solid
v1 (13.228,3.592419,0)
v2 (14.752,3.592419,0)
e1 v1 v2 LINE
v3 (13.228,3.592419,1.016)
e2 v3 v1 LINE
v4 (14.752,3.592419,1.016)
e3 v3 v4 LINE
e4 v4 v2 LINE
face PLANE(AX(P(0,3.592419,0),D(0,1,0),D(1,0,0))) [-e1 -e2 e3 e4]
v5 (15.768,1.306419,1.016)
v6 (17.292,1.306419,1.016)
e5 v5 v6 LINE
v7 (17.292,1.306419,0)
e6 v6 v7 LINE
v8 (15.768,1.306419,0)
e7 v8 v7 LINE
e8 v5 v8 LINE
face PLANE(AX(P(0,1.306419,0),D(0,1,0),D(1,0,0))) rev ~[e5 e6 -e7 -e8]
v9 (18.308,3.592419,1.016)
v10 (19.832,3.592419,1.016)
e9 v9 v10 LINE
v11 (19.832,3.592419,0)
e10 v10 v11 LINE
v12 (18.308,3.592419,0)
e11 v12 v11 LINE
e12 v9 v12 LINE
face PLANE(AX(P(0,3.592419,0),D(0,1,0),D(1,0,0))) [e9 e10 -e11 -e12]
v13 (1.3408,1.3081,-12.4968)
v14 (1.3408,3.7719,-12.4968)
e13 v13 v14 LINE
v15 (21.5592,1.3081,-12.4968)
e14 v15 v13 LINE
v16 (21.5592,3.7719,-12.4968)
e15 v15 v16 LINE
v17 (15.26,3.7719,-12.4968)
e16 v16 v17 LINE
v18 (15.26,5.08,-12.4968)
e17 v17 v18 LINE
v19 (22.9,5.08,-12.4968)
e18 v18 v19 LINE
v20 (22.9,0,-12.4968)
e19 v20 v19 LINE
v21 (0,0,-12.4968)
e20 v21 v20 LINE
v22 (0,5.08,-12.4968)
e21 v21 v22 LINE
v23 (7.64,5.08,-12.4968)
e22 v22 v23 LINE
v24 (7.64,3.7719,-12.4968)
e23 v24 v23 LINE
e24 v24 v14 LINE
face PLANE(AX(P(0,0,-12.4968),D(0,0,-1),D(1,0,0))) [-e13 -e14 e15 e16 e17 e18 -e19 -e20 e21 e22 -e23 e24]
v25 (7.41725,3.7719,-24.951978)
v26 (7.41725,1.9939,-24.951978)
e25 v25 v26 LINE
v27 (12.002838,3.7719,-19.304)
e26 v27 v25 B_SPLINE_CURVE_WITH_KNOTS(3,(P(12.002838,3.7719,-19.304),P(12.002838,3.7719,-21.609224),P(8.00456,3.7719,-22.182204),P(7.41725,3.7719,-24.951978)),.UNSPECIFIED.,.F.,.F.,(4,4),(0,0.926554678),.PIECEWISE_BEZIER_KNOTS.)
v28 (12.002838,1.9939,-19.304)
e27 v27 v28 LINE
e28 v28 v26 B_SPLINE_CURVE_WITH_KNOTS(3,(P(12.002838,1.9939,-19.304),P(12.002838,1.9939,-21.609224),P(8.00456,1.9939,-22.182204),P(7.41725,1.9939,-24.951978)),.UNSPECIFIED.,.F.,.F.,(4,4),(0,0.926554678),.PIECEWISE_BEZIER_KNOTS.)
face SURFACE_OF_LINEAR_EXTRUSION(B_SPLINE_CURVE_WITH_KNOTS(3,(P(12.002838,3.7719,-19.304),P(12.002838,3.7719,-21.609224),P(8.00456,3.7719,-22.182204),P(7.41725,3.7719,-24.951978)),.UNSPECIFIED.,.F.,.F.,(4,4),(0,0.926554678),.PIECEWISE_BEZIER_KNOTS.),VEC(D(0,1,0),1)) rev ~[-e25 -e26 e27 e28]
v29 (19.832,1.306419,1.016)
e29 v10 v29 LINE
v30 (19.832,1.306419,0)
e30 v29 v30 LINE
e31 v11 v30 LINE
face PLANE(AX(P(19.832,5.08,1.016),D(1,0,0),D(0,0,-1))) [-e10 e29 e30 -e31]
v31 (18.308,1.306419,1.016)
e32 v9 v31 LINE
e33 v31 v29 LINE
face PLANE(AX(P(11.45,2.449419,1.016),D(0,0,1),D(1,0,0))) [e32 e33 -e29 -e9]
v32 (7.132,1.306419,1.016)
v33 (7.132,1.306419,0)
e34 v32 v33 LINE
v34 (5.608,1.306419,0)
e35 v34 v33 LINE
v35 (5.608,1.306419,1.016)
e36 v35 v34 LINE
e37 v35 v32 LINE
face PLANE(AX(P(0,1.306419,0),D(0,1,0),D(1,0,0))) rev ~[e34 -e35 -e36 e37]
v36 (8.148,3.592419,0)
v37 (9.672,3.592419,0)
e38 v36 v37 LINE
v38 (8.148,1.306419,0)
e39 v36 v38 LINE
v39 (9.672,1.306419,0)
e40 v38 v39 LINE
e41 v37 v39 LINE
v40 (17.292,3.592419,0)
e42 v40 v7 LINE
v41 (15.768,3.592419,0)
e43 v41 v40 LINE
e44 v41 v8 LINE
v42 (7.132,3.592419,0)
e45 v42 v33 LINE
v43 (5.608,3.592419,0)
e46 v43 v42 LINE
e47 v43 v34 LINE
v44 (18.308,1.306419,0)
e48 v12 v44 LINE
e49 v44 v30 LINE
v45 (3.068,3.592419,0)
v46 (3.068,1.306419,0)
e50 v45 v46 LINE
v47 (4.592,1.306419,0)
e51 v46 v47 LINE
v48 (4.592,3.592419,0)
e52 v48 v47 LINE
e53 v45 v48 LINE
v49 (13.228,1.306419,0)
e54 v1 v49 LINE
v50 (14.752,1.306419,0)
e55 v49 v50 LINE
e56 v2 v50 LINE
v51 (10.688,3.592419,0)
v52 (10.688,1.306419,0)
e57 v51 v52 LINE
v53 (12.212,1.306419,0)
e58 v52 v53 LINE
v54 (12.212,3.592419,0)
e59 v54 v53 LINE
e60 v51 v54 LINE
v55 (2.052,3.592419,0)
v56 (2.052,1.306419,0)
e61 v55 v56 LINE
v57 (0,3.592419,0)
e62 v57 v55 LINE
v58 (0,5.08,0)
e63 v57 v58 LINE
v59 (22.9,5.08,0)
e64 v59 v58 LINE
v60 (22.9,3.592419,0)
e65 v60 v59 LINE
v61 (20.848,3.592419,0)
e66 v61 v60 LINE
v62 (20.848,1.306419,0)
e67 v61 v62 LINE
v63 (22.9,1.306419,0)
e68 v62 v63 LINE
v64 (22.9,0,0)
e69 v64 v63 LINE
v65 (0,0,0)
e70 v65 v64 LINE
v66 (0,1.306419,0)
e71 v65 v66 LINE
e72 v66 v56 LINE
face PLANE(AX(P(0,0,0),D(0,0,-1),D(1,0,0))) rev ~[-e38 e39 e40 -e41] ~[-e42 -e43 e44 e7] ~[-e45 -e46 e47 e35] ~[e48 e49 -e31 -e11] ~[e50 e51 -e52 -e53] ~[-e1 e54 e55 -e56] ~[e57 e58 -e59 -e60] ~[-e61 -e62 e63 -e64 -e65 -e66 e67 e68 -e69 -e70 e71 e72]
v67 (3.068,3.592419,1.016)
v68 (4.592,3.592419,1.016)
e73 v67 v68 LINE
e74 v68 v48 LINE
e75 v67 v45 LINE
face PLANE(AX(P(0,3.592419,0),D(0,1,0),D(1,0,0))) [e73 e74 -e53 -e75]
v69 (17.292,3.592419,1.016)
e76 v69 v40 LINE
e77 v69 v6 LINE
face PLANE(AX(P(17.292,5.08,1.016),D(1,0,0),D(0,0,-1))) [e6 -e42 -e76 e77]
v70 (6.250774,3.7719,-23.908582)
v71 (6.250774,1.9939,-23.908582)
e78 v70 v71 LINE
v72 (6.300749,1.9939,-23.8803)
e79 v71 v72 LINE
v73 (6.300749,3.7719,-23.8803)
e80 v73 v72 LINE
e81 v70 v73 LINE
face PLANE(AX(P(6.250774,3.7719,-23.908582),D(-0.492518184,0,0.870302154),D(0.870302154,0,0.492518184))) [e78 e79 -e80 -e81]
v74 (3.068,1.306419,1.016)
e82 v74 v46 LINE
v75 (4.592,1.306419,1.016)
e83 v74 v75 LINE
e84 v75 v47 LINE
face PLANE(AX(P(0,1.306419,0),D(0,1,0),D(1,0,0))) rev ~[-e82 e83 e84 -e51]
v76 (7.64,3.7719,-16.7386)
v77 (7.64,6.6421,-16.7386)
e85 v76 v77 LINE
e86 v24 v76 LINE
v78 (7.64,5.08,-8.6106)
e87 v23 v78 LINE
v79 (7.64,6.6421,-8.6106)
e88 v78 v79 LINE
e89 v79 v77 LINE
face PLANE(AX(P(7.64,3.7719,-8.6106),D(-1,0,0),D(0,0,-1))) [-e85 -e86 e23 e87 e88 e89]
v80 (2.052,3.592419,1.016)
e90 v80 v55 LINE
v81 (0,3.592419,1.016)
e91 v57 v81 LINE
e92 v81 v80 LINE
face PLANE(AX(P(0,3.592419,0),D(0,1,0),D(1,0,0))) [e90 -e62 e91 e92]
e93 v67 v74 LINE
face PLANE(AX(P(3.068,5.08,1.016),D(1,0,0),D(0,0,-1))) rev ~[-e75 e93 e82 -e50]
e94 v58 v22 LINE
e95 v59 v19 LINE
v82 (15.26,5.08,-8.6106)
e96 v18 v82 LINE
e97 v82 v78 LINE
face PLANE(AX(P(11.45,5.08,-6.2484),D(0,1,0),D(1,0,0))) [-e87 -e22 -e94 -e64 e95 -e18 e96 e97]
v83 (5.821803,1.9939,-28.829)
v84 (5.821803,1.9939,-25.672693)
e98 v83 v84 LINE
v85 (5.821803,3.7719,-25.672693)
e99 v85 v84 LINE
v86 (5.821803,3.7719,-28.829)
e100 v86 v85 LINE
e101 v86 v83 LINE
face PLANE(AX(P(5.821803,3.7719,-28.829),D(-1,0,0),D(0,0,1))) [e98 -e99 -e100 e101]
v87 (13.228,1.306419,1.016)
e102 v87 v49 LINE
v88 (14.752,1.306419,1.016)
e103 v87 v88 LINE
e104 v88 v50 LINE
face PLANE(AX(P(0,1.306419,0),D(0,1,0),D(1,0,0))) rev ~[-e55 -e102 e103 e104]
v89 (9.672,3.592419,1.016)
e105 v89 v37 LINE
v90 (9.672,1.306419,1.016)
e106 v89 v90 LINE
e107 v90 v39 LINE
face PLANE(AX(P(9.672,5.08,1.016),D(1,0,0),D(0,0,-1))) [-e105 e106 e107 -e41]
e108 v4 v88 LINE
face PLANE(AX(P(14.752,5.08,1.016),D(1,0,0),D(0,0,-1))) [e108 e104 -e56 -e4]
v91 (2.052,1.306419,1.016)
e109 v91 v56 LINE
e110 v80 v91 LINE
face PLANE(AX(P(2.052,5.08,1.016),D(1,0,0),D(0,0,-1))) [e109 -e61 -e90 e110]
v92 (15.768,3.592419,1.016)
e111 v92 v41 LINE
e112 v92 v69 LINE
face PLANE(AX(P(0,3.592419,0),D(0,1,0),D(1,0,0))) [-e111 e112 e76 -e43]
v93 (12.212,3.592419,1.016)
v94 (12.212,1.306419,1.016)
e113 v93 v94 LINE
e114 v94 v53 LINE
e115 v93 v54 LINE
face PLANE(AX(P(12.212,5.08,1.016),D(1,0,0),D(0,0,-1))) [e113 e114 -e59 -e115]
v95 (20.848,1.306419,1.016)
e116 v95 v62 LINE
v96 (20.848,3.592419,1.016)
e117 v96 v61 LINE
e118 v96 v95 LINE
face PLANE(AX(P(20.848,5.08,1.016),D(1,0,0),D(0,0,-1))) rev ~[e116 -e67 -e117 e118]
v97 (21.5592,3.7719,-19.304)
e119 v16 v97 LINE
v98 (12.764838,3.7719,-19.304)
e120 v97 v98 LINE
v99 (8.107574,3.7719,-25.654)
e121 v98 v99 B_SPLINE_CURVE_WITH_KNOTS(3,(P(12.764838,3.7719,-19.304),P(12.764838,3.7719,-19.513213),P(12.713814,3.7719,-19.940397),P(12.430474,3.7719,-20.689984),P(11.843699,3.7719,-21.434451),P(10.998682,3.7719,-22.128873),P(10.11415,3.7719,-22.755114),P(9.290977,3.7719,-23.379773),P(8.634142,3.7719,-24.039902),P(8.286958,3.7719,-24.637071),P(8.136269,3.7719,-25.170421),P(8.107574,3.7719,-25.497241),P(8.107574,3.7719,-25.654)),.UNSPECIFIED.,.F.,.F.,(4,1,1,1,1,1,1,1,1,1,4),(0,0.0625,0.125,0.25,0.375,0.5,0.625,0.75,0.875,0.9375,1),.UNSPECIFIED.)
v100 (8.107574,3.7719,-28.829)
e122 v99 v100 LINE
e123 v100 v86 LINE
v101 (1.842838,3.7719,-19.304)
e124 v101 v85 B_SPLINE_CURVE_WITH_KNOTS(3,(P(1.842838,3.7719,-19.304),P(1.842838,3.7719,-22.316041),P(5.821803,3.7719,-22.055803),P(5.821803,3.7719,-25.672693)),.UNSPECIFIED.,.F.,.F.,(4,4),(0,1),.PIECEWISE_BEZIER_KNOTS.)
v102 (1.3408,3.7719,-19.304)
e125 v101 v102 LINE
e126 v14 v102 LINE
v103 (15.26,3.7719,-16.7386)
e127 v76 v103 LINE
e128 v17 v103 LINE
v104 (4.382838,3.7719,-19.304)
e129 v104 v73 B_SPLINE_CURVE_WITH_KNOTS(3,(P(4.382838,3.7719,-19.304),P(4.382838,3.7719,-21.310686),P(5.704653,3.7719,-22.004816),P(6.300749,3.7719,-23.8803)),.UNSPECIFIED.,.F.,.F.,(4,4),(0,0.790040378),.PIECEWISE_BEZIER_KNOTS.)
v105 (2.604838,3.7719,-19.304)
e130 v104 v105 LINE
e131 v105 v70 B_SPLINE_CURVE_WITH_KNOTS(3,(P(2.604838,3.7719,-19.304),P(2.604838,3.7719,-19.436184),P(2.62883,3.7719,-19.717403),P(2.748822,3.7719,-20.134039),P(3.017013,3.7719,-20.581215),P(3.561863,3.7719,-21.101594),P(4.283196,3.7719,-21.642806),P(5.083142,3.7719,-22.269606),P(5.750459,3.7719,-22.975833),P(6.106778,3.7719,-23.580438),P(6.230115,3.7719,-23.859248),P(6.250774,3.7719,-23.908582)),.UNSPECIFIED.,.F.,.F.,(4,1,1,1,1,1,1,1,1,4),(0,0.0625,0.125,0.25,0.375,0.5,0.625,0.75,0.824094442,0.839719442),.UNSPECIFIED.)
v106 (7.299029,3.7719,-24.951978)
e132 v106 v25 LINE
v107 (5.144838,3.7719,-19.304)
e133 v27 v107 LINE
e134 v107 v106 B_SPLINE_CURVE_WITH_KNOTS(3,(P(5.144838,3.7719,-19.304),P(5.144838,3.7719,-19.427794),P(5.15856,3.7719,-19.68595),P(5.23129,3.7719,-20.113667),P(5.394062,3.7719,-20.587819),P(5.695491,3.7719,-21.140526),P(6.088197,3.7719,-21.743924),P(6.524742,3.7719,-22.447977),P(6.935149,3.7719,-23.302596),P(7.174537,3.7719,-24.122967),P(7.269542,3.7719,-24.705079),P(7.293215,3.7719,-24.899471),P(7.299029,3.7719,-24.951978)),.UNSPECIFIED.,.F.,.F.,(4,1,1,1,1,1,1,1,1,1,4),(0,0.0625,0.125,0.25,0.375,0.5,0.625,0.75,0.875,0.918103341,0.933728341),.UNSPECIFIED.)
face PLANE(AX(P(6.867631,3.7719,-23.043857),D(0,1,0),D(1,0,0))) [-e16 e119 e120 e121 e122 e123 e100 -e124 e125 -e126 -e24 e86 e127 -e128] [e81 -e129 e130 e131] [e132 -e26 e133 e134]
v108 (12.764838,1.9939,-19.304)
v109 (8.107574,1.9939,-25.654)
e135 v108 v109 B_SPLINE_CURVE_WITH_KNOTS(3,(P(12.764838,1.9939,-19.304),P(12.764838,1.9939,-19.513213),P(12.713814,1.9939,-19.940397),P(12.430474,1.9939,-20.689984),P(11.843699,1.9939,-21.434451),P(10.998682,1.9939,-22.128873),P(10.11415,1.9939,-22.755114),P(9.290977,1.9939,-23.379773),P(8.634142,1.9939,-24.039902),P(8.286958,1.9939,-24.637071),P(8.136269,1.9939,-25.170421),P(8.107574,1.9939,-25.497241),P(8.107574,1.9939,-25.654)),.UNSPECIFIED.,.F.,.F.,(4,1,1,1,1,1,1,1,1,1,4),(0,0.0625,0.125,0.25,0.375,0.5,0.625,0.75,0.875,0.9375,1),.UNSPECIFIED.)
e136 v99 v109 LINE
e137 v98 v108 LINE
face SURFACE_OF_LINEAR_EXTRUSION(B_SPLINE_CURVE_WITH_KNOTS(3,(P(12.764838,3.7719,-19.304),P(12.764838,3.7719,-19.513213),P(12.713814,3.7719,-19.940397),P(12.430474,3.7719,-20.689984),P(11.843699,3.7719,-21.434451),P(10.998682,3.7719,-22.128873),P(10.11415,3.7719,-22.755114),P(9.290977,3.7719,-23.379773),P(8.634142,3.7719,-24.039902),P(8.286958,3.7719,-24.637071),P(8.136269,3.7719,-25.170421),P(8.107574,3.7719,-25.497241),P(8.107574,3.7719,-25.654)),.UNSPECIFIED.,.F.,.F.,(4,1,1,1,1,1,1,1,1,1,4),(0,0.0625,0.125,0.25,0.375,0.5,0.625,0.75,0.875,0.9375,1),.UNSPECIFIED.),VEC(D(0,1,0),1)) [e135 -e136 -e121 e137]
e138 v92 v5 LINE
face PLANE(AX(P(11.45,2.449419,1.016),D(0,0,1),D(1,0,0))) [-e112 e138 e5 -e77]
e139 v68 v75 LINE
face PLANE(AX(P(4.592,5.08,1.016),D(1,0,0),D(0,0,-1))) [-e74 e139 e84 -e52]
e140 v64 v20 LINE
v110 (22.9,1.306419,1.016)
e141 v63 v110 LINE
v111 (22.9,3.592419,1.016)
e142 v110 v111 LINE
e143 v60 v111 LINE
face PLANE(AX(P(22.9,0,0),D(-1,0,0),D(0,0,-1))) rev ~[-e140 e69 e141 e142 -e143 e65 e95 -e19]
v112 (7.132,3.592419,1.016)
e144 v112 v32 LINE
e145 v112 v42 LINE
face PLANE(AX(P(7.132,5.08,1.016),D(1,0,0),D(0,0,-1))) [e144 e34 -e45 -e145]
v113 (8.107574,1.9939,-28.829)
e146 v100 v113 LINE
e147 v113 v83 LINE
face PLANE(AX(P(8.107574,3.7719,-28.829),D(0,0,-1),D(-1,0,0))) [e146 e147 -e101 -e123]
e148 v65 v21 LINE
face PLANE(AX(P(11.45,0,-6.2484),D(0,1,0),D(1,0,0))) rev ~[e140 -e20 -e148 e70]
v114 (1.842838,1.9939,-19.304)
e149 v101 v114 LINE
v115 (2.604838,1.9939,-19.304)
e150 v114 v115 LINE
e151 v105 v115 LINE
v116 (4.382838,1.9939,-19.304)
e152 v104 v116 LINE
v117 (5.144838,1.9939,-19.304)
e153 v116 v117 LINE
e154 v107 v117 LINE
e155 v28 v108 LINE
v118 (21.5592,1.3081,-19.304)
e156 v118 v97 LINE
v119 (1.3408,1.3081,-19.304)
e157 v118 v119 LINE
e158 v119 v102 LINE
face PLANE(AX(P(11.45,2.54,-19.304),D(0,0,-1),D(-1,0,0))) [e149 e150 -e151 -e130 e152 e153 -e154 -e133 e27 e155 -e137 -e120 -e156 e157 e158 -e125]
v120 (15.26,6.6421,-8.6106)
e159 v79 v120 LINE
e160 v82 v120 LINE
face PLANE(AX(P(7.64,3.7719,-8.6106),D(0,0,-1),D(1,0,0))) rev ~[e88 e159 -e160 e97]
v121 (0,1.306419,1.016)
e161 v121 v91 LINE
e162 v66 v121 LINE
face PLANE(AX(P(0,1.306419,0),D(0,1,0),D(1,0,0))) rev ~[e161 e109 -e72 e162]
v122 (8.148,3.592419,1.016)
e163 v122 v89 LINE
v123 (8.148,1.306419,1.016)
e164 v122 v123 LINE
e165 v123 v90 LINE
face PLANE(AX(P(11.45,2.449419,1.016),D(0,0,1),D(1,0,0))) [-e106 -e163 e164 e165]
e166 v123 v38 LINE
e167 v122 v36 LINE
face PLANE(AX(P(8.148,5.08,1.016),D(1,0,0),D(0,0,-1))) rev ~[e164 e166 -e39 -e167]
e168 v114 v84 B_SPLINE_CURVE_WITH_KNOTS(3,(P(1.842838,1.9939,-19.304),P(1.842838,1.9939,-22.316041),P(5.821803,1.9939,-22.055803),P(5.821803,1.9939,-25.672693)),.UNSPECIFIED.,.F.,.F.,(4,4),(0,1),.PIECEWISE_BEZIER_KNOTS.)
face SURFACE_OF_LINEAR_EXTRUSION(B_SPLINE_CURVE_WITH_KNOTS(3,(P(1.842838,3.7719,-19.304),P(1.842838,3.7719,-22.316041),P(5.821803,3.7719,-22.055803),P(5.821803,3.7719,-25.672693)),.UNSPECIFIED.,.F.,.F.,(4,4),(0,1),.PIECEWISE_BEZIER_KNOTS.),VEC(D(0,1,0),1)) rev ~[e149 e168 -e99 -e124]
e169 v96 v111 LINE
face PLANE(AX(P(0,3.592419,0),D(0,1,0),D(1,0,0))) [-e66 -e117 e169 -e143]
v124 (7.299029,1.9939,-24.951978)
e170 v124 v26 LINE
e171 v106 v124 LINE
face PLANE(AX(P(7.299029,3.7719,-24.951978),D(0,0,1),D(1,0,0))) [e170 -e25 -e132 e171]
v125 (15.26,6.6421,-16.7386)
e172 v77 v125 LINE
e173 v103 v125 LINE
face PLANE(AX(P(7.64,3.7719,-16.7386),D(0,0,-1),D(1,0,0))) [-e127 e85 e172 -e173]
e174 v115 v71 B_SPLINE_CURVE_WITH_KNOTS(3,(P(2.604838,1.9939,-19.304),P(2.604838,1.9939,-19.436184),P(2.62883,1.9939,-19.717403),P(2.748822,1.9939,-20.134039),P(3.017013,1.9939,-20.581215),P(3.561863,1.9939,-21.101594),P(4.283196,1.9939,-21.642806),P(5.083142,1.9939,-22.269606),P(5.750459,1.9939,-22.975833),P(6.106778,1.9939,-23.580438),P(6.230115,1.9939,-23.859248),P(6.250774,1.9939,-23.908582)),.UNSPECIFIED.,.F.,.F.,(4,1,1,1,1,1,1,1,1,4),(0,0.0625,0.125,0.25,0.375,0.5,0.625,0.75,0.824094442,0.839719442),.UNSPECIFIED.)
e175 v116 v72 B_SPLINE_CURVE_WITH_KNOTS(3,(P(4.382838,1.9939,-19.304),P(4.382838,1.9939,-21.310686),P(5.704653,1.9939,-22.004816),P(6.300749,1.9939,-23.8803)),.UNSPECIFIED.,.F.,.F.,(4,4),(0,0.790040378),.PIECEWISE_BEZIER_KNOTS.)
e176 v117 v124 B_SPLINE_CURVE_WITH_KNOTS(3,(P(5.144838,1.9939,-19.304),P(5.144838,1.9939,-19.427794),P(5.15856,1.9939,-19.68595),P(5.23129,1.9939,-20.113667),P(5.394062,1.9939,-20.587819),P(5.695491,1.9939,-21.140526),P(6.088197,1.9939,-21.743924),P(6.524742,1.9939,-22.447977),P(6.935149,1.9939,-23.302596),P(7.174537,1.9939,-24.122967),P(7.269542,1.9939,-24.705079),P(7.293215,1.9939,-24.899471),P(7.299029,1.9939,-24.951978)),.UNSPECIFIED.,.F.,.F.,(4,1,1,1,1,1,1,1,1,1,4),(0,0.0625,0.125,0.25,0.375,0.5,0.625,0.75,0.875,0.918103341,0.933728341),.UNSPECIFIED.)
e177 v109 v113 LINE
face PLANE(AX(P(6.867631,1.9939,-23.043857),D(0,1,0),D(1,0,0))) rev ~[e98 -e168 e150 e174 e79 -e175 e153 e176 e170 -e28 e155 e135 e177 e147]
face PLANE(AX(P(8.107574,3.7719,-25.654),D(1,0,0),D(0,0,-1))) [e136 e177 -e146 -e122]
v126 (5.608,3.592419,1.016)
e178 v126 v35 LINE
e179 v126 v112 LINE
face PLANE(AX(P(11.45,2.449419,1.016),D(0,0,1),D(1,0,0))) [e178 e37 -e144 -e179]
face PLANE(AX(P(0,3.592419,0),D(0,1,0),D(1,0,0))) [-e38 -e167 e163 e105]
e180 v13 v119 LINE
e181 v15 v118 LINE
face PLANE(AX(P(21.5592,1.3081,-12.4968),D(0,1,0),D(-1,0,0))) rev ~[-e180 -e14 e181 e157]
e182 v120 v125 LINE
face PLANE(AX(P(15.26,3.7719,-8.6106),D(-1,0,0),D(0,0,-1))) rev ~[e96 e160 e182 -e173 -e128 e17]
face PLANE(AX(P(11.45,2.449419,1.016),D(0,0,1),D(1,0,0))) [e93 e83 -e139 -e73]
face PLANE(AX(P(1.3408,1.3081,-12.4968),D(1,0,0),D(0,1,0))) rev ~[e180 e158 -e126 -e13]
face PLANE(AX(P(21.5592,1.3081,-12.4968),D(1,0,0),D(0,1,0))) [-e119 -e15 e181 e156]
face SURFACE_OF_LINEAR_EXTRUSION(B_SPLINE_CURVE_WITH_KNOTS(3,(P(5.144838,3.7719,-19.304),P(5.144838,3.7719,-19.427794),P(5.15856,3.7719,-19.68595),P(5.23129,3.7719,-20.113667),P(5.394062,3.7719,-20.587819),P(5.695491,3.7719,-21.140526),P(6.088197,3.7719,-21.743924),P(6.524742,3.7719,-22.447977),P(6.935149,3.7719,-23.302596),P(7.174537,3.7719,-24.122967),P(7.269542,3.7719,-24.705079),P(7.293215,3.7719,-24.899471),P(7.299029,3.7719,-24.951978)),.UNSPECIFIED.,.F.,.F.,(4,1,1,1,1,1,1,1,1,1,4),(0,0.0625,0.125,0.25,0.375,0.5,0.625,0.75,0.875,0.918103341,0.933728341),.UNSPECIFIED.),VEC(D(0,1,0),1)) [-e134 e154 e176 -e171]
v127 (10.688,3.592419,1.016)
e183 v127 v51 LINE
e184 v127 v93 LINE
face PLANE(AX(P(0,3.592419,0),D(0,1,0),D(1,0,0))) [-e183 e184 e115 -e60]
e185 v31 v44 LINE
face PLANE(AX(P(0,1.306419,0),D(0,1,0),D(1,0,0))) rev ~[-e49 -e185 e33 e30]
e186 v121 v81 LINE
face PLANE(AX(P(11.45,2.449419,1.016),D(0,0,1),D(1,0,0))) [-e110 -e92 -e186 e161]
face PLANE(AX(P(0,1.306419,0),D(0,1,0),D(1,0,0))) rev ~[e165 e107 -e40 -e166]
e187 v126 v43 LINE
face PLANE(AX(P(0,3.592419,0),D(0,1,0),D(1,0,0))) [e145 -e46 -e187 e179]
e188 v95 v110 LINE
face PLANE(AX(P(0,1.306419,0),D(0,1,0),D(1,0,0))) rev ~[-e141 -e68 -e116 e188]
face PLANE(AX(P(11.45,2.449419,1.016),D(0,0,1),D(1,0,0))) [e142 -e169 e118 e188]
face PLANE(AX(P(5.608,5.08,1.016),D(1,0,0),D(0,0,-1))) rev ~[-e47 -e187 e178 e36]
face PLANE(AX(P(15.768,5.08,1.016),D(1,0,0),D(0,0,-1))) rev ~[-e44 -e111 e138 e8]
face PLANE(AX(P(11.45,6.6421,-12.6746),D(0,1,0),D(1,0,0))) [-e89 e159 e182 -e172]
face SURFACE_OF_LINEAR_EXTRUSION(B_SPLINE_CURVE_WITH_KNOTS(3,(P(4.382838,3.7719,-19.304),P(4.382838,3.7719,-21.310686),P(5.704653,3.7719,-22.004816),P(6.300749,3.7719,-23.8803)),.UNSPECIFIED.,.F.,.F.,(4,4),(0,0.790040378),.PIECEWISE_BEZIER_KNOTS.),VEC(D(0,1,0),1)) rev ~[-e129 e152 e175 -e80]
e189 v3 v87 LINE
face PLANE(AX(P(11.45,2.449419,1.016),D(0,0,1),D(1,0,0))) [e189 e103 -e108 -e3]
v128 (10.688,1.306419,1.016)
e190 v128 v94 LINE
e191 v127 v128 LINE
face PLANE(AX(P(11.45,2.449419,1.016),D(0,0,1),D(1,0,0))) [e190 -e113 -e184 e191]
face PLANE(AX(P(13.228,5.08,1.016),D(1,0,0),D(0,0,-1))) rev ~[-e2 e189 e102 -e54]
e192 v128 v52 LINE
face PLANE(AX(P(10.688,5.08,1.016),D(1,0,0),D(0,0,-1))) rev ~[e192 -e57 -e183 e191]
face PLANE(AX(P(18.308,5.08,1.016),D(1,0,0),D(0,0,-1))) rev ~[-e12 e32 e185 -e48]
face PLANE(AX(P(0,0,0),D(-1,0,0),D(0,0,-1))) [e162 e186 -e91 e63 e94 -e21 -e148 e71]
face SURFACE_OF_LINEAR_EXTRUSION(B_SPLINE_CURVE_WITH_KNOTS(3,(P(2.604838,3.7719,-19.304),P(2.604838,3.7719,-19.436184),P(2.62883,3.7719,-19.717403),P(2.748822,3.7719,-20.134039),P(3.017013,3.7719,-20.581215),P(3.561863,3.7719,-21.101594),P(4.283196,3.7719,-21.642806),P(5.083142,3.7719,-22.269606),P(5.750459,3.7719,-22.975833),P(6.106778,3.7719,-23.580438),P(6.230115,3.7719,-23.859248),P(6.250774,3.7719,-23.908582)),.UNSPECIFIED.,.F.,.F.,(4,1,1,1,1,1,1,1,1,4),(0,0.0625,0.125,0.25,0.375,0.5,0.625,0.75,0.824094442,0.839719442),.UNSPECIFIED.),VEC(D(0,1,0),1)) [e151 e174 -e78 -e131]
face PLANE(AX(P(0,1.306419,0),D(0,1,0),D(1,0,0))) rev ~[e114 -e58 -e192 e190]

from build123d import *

# Parameters (mm, degrees)
SKETCH1_W           = 22.9
SKETCH1_H           = 12.4968
BOSS_EXTRUDE1_DEPTH = 5.08
SKETCH2_W           = 22.9
SKETCH2_H           = 2.286
BOSS_EXTRUDE2_DEPTH = 1.016
SKETCH3_W           = 1.016
SKETCH3_H           = 1.016
CUT_EXTRUDE1_DEPTH  = 27.577930887
SKETCH4_W           = 20.2184
SKETCH4_H           = 2.4638
BOSS_EXTRUDE3_DEPTH = 6.8072
SKETCH5_W           = 7.62
SKETCH5_H           = 8.128
BOSS_EXTRUDE4_DEPTH = 2.8702
BOSS_EXTRUDE6_DEPTH = 1.778


with BuildPart() as part:
    # Sketch1 → Boss-Extrude1 (new body)
    with BuildSketch(Plane(origin=(0, 0, 0), x_dir=(1, 0, 0), z_dir=(0, 1, 0))):
        with Locations((11.45, 6.2484)):
            Rectangle(SKETCH1_W, SKETCH1_H)
    extrude(amount=BOSS_EXTRUDE1_DEPTH)

    # Sketch2 → Boss-Extrude2 (add)
    with BuildSketch(Plane.XY):
        with Locations((11.45, 2.449418531)):
            Rectangle(SKETCH2_W, SKETCH2_H)
    extrude(amount=BOSS_EXTRUDE2_DEPTH)

    # Sketch3 → Cut-Extrude1 (cut, through all)
    with BuildSketch(Plane(origin=(0, 5.08, 0), x_dir=(1, 0, 0), z_dir=(0, 1, 0))):
        with Locations((2.56, -0.508)):
            Rectangle(SKETCH3_W, SKETCH3_H)
        with Locations((5.1, -0.508)):
            Rectangle(SKETCH3_W, SKETCH3_H)
        with Locations((7.64, -0.508)):
            Rectangle(SKETCH3_W, SKETCH3_H)
        with Locations((10.18, -0.508)):
            Rectangle(SKETCH3_W, SKETCH3_H)
        with Locations((12.72, -0.508)):
            Rectangle(SKETCH3_W, SKETCH3_H)
        with Locations((15.26, -0.508)):
            Rectangle(SKETCH3_W, SKETCH3_H)
        with Locations((17.8, -0.508)):
            Rectangle(SKETCH3_W, SKETCH3_H)
        with Locations((20.34, -0.508)):
            Rectangle(SKETCH3_W, SKETCH3_H)
    extrude(amount=-CUT_EXTRUDE1_DEPTH, mode=Mode.SUBTRACT)

    # Sketch4 → Boss-Extrude3 (add)
    with BuildSketch(Plane(origin=(0, 0, -12.4968), x_dir=(-1, 0, 0), z_dir=(0, 0, -1))):
        with Locations((-11.45, 2.54)):
            Rectangle(SKETCH4_W, SKETCH4_H)
    extrude(amount=BOSS_EXTRUDE3_DEPTH)

    # Sketch5 → Boss-Extrude4 (add)
    with BuildSketch(Plane(origin=(0, 3.7719, 0), x_dir=(1, 0, 0), z_dir=(0, 1, 0))):
        with Locations((11.45, 12.6746)):
            Rectangle(SKETCH5_W, SKETCH5_H)
    extrude(amount=BOSS_EXTRUDE4_DEPTH)

    # Sketch6 → Boss-Extrude6 (add)
    # profile 1 of 4: a face of its own
    with BuildSketch(Plane(origin=(0, 3.7719, 0), x_dir=(1, 0, 0), z_dir=(0, 1, 0))):
        with BuildLine():
            add(Edge.make_bspline(
                [(12.764837987, 19.304), (12.764837987, 19.513213272), (12.713813556, 19.940397022), (12.430473546, 20.689983513), (11.84369856, 21.434451274), (10.99868157, 22.128872758), (10.114149769, 22.755114216), (9.290977221, 23.379772734), (8.634141686, 24.039902479), (8.28695824, 24.637071385), (8.136269303, 25.170420647), (8.107573693, 25.497240703), (8.107573693, 25.654)],
                knots=[0, 0, 0, 0, 0.0625, 0.125, 0.25, 0.375, 0.5, 0.625, 0.75, 0.875, 0.9375, 1, 1, 1, 1], degree=3))
            Line((8.107573693, 25.654), (8.107573693, 28.829))
            Line((8.107573693, 28.829), (5.821803018, 28.829))
            Line((5.821803018, 28.829), (5.821803018, 25.672693301))
            add(Edge.make_bspline(
                [(1.842837987, 19.304), (1.842837987, 22.316040756), (5.821803018, 22.055802608), (5.821803018, 25.672693301)],
                knots=[0, 0, 0, 0, 1, 1, 1, 1], degree=3))
            Line((1.842837987, 19.304), (2.604837987, 19.304))
            add(Edge.make_bspline(
                [(2.604837987, 19.304), (2.604837987, 19.436184229), (2.628829628, 19.717403115), (2.748821923, 20.134038551), (3.017012948, 20.581214899), (3.561863063, 21.101594101), (4.28319589, 21.642805815), (5.083141911, 22.269605528), (5.750459382, 22.975833182), (6.10677757, 23.58043805), (6.230115453, 23.859247989), (6.250774433, 23.908581669)],
                knots=[0, 0, 0, 0, 0.0625, 0.125, 0.25, 0.375, 0.5, 0.625, 0.75, 0.824094442, 0.839719442, 0.839719442, 0.839719442, 0.839719442], degree=3))
            add(Edge.make_bspline(
                [(6.250774433, 23.908581669), (6.271433413, 23.95791535), (6.316227133, 24.071064885), (6.41779978, 24.365489751), (6.480855857, 24.623522586), (6.514810758, 24.824299603)],
                knots=[0.839719442, 0.839719442, 0.839719442, 0.839719442, 0.855344442, 0.875, 0.928476516, 0.928476516, 0.928476516, 0.928476516], degree=3))
            add(Edge.make_bspline(
                [(6.300749052, 23.880300217), (6.391194329, 24.164866019), (6.464932294, 24.476628676), (6.514810758, 24.824299603)],
                knots=[0.790040378, 0.790040378, 0.790040378, 0.790040378, 0.909912617, 0.909912617, 0.909912617, 0.909912617], degree=3))
            add(Edge.make_bspline(
                [(4.382837987, 19.304), (4.382837987, 21.310686016), (5.704652562, 22.004816166), (6.300749052, 23.880300217)],
                knots=[0, 0, 0, 0, 0.790040378, 0.790040378, 0.790040378, 0.790040378], degree=3))
            Line((4.382837987, 19.304), (5.144837987, 19.304))
            add(Edge.make_bspline(
                [(5.144837987, 19.304), (5.144837987, 19.427793819), (5.158559892, 19.685949652), (5.231289869, 20.113666624), (5.394061657, 20.587818607), (5.695490865, 21.140525626), (6.088197228, 21.743923542), (6.524741922, 22.447977177), (6.93514926, 23.302596179), (7.174536626, 24.122966736), (7.269542471, 24.705079276), (7.293215165, 24.899470513), (7.299029307, 24.951977964)],
                knots=[0, 0, 0, 0, 0.0625, 0.125, 0.25, 0.375, 0.5, 0.625, 0.75, 0.875, 0.918103341, 0.933728341, 0.933728341, 0.933728341, 0.933728341], degree=3))
            add(Edge.make_bspline(
                [(7.299029307, 24.951977964), (7.304843448, 25.004485416), (7.327450173, 25.230534496), (7.341165481, 25.474360975), (7.345573693, 25.654)],
                knots=[0.933728341, 0.933728341, 0.933728341, 0.933728341, 0.949353341, 1, 1, 1, 1], degree=3))
            add(Edge.make_bspline(
                [(7.417250324, 24.951977964), (7.370695979, 25.171529954), (7.345573693, 25.404885005), (7.345573693, 25.654)],
                knots=[0.926554678, 0.926554678, 0.926554678, 0.926554678, 1, 1, 1, 1], degree=3))
            add(Edge.make_bspline(
                [(12.002837987, 19.304), (12.002837987, 21.609223862), (8.004559962, 22.182204254), (7.417250324, 24.951977964)],
                knots=[0, 0, 0, 0, 0.926554678, 0.926554678, 0.926554678, 0.926554678], degree=3))
            Line((12.002837987, 19.304), (12.764837987, 19.304))
        make_face()
        with BuildLine():
            add(Edge.make_bspline(
                [(6.514810758, 24.824299603), (6.520540217, 24.858178177), (6.563211161, 25.129441995), (6.583803018, 25.423501077), (6.583803018, 25.672693301)],
                knots=[0.928476516, 0.928476516, 0.928476516, 0.928476516, 0.9375, 1, 1, 1, 1], degree=3))
            add(Edge.make_bspline(
                [(6.514810758, 24.824299603), (6.552295837, 25.08558415), (6.576305195, 25.367149502), (6.583803018, 25.672693301)],
                knots=[0.909912617, 0.909912617, 0.909912617, 0.909912617, 1, 1, 1, 1], degree=3))
        make_face(mode=Mode.SUBTRACT)
    # profile 2 of 4: a face of its own
    with BuildSketch(Plane(origin=(0, 3.7719, 0), x_dir=(1, 0, 0), z_dir=(0, 1, 0))):
        with BuildLine():
            Line((7.299029307, 24.951977964), (7.417250324, 24.951977964))
            add(Edge.make_bspline(
                [(7.417250324, 24.951977964), (7.370695979, 25.171529954), (7.345573693, 25.404885005), (7.345573693, 25.654)],
                knots=[0.926554678, 0.926554678, 0.926554678, 0.926554678, 1, 1, 1, 1], degree=3))
            add(Edge.make_bspline(
                [(7.299029307, 24.951977964), (7.304843448, 25.004485416), (7.327450173, 25.230534496), (7.341165481, 25.474360975), (7.345573693, 25.654)],
                knots=[0.933728341, 0.933728341, 0.933728341, 0.933728341, 0.949353341, 1, 1, 1, 1], degree=3))
        make_face()
    # profile 3 of 4: a face of its own
    with BuildSketch(Plane(origin=(0, 3.7719, 0), x_dir=(1, 0, 0), z_dir=(0, 1, 0))):
        with BuildLine():
            Line((6.250774433, 23.908581669), (6.300749052, 23.880300217))
            add(Edge.make_bspline(
                [(6.300749052, 23.880300217), (6.391194329, 24.164866019), (6.464932294, 24.476628676), (6.514810758, 24.824299603)],
                knots=[0.790040378, 0.790040378, 0.790040378, 0.790040378, 0.909912617, 0.909912617, 0.909912617, 0.909912617], degree=3))
            add(Edge.make_bspline(
                [(6.250774433, 23.908581669), (6.271433413, 23.95791535), (6.316227133, 24.071064885), (6.41779978, 24.365489751), (6.480855857, 24.623522586), (6.514810758, 24.824299603)],
                knots=[0.839719442, 0.839719442, 0.839719442, 0.839719442, 0.855344442, 0.875, 0.928476516, 0.928476516, 0.928476516, 0.928476516], degree=3))
        make_face()
    # profile 4 of 4: a face of its own
    with BuildSketch(Plane(origin=(0, 3.7719, 0), x_dir=(1, 0, 0), z_dir=(0, 1, 0))):
        with BuildLine():
            add(Edge.make_bspline(
                [(6.514810758, 24.824299603), (6.552295837, 25.08558415), (6.576305195, 25.367149502), (6.583803018, 25.672693301)],
                knots=[0.909912617, 0.909912617, 0.909912617, 0.909912617, 1, 1, 1, 1], degree=3))
            add(Edge.make_bspline(
                [(6.514810758, 24.824299603), (6.520540217, 24.858178177), (6.563211161, 25.129441995), (6.583803018, 25.423501077), (6.583803018, 25.672693301)],
                knots=[0.928476516, 0.928476516, 0.928476516, 0.928476516, 0.9375, 1, 1, 1, 1], degree=3))
        make_face()
    extrude(amount=-BOSS_EXTRUDE6_DEPTH)


solid = part.part
